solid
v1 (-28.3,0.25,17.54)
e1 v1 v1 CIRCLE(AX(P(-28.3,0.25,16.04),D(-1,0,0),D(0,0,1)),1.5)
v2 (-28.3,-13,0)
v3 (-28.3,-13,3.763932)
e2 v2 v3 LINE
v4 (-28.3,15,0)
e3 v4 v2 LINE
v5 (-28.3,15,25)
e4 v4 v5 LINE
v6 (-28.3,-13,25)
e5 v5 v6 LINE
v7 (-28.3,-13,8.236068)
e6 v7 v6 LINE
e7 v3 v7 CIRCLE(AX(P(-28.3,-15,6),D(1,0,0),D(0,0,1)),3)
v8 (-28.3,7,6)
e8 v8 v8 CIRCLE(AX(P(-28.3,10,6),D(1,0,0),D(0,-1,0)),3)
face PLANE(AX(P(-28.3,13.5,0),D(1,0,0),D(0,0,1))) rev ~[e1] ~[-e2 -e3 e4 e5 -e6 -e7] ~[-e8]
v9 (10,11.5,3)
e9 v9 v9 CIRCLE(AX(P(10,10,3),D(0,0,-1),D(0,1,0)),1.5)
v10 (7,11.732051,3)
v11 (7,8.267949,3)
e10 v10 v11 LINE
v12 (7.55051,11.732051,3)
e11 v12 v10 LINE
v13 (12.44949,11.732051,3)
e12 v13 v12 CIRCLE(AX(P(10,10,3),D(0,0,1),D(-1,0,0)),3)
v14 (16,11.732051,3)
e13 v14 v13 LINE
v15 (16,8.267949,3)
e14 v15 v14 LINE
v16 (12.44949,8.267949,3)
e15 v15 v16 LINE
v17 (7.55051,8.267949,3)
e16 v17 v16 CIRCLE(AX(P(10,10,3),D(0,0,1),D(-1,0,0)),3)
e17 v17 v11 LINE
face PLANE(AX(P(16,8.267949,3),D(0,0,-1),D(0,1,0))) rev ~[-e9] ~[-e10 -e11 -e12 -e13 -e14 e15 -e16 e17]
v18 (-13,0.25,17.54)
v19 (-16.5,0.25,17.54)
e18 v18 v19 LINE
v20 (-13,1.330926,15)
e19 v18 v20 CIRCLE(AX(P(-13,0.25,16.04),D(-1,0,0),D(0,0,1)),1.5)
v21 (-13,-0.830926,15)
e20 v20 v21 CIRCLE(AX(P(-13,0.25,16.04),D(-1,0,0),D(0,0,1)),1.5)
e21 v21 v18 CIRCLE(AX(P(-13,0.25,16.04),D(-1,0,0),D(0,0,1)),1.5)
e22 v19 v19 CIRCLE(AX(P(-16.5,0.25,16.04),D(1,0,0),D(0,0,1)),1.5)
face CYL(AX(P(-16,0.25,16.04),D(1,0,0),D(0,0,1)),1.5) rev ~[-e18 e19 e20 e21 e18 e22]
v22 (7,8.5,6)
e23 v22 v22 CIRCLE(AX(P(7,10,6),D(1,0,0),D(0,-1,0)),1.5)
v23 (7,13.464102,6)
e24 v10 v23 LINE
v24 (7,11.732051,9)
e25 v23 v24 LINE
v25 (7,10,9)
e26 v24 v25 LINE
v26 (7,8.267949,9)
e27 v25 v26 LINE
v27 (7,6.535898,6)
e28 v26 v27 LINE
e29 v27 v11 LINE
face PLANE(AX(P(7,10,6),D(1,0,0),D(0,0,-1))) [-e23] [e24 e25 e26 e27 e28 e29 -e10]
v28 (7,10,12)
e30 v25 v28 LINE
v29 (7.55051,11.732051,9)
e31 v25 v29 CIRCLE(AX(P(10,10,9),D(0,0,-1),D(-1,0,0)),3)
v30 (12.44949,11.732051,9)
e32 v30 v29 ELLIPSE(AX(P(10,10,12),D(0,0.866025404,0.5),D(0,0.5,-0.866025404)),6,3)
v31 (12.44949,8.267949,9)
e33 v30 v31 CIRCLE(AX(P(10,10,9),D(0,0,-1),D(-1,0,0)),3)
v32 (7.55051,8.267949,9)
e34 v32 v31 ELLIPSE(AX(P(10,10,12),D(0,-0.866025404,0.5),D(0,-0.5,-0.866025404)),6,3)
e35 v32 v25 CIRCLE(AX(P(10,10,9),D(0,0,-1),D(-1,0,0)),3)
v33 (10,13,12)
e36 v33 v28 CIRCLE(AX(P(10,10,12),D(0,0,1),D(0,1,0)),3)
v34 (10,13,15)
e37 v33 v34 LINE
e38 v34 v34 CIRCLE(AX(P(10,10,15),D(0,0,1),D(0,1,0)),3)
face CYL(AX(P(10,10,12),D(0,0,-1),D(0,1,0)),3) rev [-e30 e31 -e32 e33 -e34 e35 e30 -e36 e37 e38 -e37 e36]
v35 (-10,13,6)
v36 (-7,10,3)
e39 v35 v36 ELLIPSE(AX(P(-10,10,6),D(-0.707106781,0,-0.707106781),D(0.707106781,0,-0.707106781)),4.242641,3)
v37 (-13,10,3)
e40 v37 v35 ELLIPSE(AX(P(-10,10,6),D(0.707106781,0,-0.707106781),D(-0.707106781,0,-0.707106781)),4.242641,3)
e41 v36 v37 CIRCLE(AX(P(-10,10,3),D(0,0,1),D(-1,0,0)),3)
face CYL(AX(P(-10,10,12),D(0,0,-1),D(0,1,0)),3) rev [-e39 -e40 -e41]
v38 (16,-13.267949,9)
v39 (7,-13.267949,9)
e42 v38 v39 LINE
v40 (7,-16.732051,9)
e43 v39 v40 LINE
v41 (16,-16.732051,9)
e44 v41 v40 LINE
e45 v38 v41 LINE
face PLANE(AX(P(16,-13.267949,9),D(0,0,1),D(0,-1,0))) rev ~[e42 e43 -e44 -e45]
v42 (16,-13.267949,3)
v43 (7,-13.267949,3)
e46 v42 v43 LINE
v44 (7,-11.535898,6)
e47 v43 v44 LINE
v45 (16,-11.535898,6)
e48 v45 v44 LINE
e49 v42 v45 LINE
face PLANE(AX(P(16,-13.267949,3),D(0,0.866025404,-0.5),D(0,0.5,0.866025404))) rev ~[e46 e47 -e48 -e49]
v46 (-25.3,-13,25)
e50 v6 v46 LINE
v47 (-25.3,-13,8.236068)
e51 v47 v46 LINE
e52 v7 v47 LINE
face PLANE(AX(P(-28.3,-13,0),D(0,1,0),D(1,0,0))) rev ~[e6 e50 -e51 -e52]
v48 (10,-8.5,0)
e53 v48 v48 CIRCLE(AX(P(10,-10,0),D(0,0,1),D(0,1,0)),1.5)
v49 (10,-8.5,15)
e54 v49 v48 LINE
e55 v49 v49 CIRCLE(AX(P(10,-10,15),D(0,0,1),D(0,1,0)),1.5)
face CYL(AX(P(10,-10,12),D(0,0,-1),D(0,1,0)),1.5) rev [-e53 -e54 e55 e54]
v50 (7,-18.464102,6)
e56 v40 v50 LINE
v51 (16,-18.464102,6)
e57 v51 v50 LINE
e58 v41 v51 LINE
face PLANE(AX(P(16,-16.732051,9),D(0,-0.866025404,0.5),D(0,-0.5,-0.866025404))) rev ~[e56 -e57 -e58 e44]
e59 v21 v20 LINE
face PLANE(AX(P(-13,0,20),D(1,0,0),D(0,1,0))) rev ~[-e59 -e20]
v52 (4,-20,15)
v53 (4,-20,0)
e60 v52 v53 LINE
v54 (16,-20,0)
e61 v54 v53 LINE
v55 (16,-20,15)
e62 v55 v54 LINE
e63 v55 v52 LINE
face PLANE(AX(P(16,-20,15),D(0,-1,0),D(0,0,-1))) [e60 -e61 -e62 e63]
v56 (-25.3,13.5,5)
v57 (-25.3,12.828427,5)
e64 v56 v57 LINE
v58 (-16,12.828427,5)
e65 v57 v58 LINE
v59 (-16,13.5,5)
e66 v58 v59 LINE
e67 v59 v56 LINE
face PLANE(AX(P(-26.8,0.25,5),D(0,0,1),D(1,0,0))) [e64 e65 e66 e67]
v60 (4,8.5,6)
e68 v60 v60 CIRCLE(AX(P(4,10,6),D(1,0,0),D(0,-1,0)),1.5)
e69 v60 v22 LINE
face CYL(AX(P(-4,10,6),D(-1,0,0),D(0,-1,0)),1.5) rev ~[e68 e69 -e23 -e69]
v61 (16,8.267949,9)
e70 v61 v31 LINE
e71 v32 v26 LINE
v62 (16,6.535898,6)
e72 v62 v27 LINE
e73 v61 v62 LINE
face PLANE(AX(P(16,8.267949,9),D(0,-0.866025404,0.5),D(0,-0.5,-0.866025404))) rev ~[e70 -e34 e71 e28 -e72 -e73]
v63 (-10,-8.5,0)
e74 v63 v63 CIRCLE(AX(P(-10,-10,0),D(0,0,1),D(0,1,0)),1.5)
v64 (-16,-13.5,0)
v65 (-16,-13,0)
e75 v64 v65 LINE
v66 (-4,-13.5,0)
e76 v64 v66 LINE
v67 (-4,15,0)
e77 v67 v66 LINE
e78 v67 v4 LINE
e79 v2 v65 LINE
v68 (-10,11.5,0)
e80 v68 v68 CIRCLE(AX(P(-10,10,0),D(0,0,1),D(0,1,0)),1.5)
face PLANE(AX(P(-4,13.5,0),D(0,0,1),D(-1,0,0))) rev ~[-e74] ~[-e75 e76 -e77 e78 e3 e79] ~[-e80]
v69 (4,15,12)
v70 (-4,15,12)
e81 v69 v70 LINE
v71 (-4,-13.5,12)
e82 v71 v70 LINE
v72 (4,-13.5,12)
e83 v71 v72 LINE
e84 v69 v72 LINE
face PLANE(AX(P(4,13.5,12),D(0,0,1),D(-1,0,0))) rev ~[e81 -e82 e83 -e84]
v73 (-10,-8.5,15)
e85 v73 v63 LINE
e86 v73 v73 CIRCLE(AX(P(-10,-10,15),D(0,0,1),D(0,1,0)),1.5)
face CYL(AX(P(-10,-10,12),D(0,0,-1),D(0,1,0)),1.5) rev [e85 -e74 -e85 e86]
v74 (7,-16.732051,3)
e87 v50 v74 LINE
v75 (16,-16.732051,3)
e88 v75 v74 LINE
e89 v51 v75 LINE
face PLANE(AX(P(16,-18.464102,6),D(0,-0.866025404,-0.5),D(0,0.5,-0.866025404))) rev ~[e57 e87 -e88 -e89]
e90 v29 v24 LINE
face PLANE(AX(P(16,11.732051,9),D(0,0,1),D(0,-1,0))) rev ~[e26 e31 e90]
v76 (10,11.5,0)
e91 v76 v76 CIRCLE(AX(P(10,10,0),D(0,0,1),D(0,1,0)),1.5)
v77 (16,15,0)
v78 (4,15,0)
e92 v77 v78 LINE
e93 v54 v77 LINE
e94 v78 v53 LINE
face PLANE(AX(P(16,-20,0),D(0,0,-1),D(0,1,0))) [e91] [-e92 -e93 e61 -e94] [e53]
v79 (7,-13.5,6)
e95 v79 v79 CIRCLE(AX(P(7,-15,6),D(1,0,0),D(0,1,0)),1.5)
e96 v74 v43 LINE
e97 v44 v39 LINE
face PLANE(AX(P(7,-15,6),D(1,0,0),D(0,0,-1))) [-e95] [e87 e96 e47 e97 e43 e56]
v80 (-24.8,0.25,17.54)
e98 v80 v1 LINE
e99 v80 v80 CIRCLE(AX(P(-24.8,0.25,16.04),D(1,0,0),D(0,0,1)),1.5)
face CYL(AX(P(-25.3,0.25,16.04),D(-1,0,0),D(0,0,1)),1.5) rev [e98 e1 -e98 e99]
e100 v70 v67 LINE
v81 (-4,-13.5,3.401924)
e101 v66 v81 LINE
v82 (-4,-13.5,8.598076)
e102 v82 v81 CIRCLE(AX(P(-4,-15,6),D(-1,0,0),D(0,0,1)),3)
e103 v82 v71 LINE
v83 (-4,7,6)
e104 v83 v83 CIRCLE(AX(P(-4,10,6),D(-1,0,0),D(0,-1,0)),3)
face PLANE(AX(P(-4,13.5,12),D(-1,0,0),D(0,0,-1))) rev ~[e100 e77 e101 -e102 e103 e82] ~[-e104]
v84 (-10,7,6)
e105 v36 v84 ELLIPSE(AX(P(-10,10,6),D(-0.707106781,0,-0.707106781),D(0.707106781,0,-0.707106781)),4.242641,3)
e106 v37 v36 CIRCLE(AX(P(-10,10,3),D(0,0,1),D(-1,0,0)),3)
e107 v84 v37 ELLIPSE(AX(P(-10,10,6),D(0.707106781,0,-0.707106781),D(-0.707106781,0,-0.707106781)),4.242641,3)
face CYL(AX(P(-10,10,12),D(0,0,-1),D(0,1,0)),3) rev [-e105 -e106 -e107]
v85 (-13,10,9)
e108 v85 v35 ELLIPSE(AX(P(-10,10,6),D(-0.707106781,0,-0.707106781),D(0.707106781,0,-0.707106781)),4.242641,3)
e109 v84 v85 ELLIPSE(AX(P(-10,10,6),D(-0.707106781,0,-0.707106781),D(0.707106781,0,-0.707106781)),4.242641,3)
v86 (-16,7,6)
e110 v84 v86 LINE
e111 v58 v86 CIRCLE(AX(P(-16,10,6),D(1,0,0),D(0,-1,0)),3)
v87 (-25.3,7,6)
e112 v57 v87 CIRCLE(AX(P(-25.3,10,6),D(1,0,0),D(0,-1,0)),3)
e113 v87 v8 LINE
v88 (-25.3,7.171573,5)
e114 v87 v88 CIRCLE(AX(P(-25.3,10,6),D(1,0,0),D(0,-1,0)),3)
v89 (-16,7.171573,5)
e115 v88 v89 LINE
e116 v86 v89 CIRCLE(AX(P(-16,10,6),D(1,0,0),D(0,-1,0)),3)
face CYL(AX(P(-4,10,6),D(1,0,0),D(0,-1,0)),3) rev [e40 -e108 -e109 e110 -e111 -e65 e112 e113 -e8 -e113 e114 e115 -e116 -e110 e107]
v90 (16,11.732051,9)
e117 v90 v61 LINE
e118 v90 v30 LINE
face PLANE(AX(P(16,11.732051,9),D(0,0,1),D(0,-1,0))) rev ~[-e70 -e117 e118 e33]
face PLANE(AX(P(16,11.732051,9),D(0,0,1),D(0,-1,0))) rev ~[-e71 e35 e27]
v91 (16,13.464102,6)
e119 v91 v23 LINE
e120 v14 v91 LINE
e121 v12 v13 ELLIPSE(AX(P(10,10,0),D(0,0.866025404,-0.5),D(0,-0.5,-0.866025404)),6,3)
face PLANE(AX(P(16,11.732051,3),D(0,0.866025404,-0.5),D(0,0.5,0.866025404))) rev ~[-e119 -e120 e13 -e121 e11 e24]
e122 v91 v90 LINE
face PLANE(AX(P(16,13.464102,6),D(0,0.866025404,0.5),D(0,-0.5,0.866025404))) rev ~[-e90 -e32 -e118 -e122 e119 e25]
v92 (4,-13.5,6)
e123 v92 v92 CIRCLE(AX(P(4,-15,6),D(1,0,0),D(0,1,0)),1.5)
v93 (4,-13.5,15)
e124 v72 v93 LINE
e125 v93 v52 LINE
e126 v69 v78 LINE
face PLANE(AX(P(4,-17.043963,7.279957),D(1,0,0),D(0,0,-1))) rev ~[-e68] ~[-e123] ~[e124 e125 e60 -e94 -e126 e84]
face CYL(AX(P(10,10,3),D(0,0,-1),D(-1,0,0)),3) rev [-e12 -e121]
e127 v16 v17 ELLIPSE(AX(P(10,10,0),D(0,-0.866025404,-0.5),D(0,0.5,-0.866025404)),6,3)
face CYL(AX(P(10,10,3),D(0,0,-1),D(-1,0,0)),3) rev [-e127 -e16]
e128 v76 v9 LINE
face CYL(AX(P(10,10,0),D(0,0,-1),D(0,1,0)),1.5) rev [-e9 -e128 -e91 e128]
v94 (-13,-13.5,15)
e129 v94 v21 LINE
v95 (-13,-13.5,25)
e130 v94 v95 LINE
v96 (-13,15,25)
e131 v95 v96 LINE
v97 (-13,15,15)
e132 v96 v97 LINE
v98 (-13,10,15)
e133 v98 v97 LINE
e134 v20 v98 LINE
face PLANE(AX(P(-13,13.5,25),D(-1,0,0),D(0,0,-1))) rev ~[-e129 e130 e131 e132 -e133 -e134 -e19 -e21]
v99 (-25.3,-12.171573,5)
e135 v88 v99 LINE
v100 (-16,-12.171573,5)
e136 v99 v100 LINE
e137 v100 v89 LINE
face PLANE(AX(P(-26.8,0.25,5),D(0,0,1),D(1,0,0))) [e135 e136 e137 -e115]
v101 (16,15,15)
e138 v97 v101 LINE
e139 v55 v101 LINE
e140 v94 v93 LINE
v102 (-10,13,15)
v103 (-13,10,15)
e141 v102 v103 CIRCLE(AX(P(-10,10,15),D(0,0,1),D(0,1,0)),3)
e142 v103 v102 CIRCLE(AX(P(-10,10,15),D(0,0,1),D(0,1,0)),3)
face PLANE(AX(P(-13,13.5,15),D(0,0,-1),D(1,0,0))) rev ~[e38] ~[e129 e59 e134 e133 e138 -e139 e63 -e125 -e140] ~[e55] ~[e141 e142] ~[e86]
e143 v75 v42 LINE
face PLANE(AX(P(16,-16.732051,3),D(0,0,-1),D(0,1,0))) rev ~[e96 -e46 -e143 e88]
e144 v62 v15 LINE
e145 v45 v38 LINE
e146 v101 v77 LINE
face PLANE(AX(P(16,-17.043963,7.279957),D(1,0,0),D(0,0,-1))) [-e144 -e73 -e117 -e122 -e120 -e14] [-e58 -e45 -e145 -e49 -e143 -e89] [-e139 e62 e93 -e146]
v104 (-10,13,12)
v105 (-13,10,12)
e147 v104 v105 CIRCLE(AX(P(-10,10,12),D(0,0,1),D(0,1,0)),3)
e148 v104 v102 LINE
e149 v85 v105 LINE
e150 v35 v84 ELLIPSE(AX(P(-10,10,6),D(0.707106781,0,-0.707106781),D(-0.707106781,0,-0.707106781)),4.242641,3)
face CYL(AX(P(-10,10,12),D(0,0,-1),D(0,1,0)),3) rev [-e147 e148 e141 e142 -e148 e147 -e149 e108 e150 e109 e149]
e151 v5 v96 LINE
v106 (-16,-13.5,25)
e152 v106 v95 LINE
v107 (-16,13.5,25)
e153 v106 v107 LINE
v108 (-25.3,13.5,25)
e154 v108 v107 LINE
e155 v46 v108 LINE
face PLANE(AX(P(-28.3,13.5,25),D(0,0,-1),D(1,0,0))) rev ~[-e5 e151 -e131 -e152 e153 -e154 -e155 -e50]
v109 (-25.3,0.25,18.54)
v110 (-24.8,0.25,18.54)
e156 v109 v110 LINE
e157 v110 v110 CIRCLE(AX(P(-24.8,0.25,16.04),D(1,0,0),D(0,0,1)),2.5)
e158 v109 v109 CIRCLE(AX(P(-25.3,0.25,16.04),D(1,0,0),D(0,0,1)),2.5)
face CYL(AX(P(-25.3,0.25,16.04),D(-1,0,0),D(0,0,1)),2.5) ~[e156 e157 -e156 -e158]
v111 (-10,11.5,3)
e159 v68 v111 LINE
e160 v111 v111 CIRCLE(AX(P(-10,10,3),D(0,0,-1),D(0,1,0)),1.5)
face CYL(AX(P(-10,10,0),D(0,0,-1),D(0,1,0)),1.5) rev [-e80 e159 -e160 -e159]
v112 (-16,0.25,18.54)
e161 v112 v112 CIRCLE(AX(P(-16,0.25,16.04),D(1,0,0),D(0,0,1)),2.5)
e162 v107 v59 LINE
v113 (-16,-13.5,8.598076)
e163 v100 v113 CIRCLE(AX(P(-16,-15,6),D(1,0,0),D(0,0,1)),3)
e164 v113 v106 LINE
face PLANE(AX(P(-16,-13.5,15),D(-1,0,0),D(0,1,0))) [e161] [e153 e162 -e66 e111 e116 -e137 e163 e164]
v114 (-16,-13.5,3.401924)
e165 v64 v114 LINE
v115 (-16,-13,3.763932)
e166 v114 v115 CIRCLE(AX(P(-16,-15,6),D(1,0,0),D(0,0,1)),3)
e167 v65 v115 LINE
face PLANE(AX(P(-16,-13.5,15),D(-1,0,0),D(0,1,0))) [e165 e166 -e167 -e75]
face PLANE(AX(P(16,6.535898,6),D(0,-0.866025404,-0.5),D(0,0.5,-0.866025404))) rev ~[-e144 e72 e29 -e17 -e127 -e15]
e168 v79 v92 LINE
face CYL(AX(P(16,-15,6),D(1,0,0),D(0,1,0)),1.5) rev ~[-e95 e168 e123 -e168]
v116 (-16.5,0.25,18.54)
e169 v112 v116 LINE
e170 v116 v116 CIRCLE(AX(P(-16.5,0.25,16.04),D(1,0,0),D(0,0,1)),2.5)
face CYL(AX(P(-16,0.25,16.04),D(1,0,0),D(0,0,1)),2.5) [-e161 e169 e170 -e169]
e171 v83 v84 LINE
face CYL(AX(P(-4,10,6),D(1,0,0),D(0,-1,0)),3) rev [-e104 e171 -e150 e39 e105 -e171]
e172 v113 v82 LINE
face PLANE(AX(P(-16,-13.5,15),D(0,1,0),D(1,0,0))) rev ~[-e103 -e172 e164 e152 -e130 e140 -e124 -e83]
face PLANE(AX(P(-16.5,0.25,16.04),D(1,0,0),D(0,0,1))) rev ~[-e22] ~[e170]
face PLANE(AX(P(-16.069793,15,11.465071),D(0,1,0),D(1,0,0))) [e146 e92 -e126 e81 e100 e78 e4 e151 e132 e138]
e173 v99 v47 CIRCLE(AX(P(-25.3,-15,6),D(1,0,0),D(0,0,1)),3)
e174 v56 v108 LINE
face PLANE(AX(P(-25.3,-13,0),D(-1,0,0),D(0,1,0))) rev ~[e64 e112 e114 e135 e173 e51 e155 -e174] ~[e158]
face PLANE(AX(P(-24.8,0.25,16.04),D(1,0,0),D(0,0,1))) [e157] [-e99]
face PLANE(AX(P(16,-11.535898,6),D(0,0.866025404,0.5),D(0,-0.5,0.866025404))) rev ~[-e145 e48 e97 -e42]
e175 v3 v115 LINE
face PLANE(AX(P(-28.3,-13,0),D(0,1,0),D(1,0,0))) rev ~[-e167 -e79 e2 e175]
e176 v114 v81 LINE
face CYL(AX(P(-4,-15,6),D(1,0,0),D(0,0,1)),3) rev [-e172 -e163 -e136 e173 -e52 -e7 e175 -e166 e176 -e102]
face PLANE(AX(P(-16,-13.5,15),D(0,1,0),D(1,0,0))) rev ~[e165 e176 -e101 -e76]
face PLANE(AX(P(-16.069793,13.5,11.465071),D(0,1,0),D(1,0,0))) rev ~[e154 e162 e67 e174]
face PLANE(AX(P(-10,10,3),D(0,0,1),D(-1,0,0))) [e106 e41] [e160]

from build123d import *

# Parameters (mm, degrees)
SKETCH1_W           = 12
SKETCH1_H           = 27
SKETCH1_R           = 1.5
SKETCH1_R_2         = 3
BOSS_EXTRUDE1_DEPTH = 12
BOSS_EXTRUDE2_START = 12
SKETCH1_3_W         = 32
SKETCH1_3_H         = 27
SKETCH1_3_R         = 1.5
SKETCH1_3_R_2       = 3
BOSS_EXTRUDE2_DEPTH = 3
SKETCH2_3_R         = 1.5
CUT_EXTRUDE2_DEPTH  = 29.41214529
SKETCH3_W           = 15
SKETCH3_H           = 1.5
SKETCH3_R           = 1.5
BOSS_EXTRUDE3_DEPTH = 12
SKETCH3_4_R         = 1.5
CUT_EXTRUDE3_DEPTH  = 9
SKETCH3_5_R         = 1.5
CUT_EXTRUDE4_DEPTH  = 41.607881008
CUT_EXTRUDE9_START  = 3
SKETCH1_4_R         = 3
SKETCH1_4_R_2       = 1.5
CUT_EXTRUDE9_DEPTH  = 9
SKETCH4_W           = 3
SKETCH4_H           = 26.5
SKETCH4_W_2         = 5
SKETCH4_H_2         = 26
BOSS_EXTRUDE4_DEPTH = 5
SKETCH4_3_W         = 3
SKETCH4_3_H         = 26.5
BOSS_EXTRUDE5_DEPTH = 25
SKETCH5_W           = 3
SKETCH5_H           = 27
BOSS_EXTRUDE6_DEPTH = 10
CUT_EXTRUDE10_REACH = 56.658
SKETCH6_R           = 1.5
SKETCH7_R           = 2.5
SKETCH7_R_2         = 1.5
BOSS_EXTRUDE7_DEPTH = 0.5
BOSS_EXTRUDE8_START = 9.3
SKETCH7_2_R         = 2.5
SKETCH7_2_R_2       = 1.5
BOSS_EXTRUDE8_DEPTH = 0.5
SKETCH2_R           = 3
SKETCH2_R_2         = 1.5
CUT_EXTRUDE1_DEPTH  = 41.193158622
SKETCH8_W           = 9.3
SKETCH8_H           = 20
BOSS_EXTRUDE9_DEPTH = 1.5


with BuildPart() as part:
    # Sketch1 → Boss-Extrude1 (new body)
    with BuildSketch(Plane.XY):
        with Locations((-10, 0)):
            Rectangle(SKETCH1_W, SKETCH1_H)
        with Locations(Location((-10, 10, 0), (0, 0, 90))):
            Circle(SKETCH1_R, mode=Mode.SUBTRACT)
        with Locations(Location((-10, -10, 0), (0, 0, 90))):
            Circle(SKETCH1_R, mode=Mode.SUBTRACT)
        with Locations((10, 0)):
            Rectangle(SKETCH1_W, SKETCH1_H)
        with Locations((10, 10)):
            Circle(SKETCH1_R_2, mode=Mode.SUBTRACT)
        with Locations(Location((10, -10, 0), (0, 0, 90))):
            Circle(SKETCH1_R, mode=Mode.SUBTRACT)
        with Locations((10, 10)):
            Circle(SKETCH1_R_2)
        with Locations(Location((10, 10, 0), (0, 0, 90))):
            Circle(SKETCH1_R, mode=Mode.SUBTRACT)
        with Locations((-10, 10)):
            Circle(SKETCH1_R_2)
        with Locations(Location((-10, 10, 0), (0, 0, 90))):
            Circle(SKETCH1_R, mode=Mode.SUBTRACT)
    extrude(amount=BOSS_EXTRUDE1_DEPTH)

    # Sketch1_3 → Boss-Extrude2 (add)
    with BuildSketch(Plane.XY.offset(BOSS_EXTRUDE2_START)):
        Rectangle(SKETCH1_3_W, SKETCH1_3_H)
        with Locations(Location((-10, -10, 0), (0, 0, 90))):
            Circle(SKETCH1_3_R, mode=Mode.SUBTRACT)
        with Locations(Location((-10, 10, 0), (0, 0, 90))):
            Circle(SKETCH1_3_R_2, mode=Mode.SUBTRACT)
        with Locations(Location((10, 10, 0), (0, 0, 90))):
            Circle(SKETCH1_3_R_2, mode=Mode.SUBTRACT)
        with Locations(Location((10, -10, 0), (0, 0, 90))):
            Circle(SKETCH1_3_R, mode=Mode.SUBTRACT)
    extrude(amount=BOSS_EXTRUDE2_DEPTH)

    # Sketch2_3 → Cut-Extrude2 (cut, through all)
    with BuildSketch(Plane.ZY.offset(4)):
        with Locations((6, -15)):
            Circle(SKETCH2_3_R)
        with Locations(Location((6, 10, 0), (0, 0, 270))):
            Circle(SKETCH2_3_R)
    extrude(amount=-CUT_EXTRUDE2_DEPTH, mode=Mode.SUBTRACT)

    # Sketch3 → Boss-Extrude3 (add)
    with BuildSketch(Plane(origin=(16, 0, 0), x_dir=(0, 0, -1), z_dir=(1, 0, 0))):
        Polygon((-9, -13.5), (-15, -13.5), (-15, -20), (0, -20), (0, -13.5), (-3, -13.5), (-3, -16.732050808), (-6, -18.464101615), (-9, -16.732050808), align=None)
        with Locations((-7.5, 14.25)):
            Rectangle(SKETCH3_W, SKETCH3_H)
        Polygon((-6, -13.5), (-9, -13.5), (-9, -16.732050808), (-6, -18.464101615), (-3, -16.732050808), (-3, -13.5), align=None)
        with BuildLine():
            ThreePointArc((-4.5, -15), (-7.060660172, -16.060660172), (-6, -13.5))
            ThreePointArc((-6, -13.5), (-4.939339828, -13.939339828), (-4.5, -15))
        make_face(mode=Mode.SUBTRACT)
        with Locations((-6, -15)):
            Circle(SKETCH3_R)
    extrude(amount=-BOSS_EXTRUDE3_DEPTH)

    # Sketch3_4 → Cut-Extrude3 (cut)
    with BuildSketch(Plane(origin=(16, 0, 0), x_dir=(0, 0, -1), z_dir=(1, 0, 0))):
        Polygon((-6, 13.464101615), (-9, 11.732050808), (-9, 8.267949192), (-6, 6.535898385), (-3, 8.267949192), (-3, 11.732050808), align=None)
        Polygon((-6, -11.535898385), (-9, -13.267949192), (-9, -16.732050808), (-6, -18.464101615), (-3, -16.732050808), (-3, -13.267949192), align=None)
        with Locations(Location((-6, -15, 0), (0, 0, 90))):
            Circle(SKETCH3_4_R, mode=Mode.SUBTRACT)
    extrude(amount=-CUT_EXTRUDE3_DEPTH, mode=Mode.SUBTRACT)

    # Sketch3_5 → Cut-Extrude4 (cut, through all)
    with BuildSketch(Plane(origin=(16, 0, 0), x_dir=(0, 0, -1), z_dir=(1, 0, 0))):
        with Locations(Location((-6, -15, 0), (0, 0, 90))):
            Circle(SKETCH3_5_R)
        with Locations(Location((-6, 10, 0), (0, 0, 90))):
            Circle(SKETCH3_5_R)
    extrude(amount=-CUT_EXTRUDE4_DEPTH, mode=Mode.SUBTRACT)

    # Sketch1_4 → Cut-Extrude9 (cut)
    with BuildSketch(Plane.XY.offset(CUT_EXTRUDE9_START)):
        with Locations(Location((-10, 10, 0), (0, 0, 180))):
            Circle(SKETCH1_4_R)
        with Locations(Location((-10, 10, 0), (0, 0, 180))):
            Circle(SKETCH1_4_R_2, mode=Mode.SUBTRACT)
        with Locations(Location((10, 10, 0), (0, 0, 180))):
            Circle(SKETCH1_4_R)
        with Locations(Location((10, 10, 0), (0, 0, 180))):
            Circle(SKETCH1_4_R_2, mode=Mode.SUBTRACT)
    extrude(amount=CUT_EXTRUDE9_DEPTH, mode=Mode.SUBTRACT)

    # Sketch4 → Boss-Extrude4 (add)
    with BuildSketch(Plane.XY):
        with Locations((-26.8, 0.25)):
            Rectangle(SKETCH4_W, SKETCH4_H)
        Polygon((-25.3, -13), (-21, -13), (-21, 13), (-16, 13), (-16, 13.5), (-25.3, 13.5), align=None)
        with Locations((-18.5, 0)):
            Rectangle(SKETCH4_W_2, SKETCH4_H_2)
    extrude(amount=BOSS_EXTRUDE4_DEPTH)

    # Sketch4_3 → Boss-Extrude5 (add)
    with BuildSketch(Plane.XY):
        with Locations((-26.8, 0.25)):
            Rectangle(SKETCH4_3_W, SKETCH4_3_H)
    extrude(amount=BOSS_EXTRUDE5_DEPTH)

    # Sketch5 → Boss-Extrude6 (add)
    with BuildSketch(Plane.XY.offset(15)):
        with Locations((-14.5, 0)):
            Rectangle(SKETCH5_W, SKETCH5_H)
    extrude(amount=BOSS_EXTRUDE6_DEPTH)

    # Cut-Extrude10: up to this face of the body (flat: up to its plane)
    cut_extrude10_end = Plane(part.part.faces().sort_by_distance((-13, 0, 20))[0])
    # Sketch6 → Cut-Extrude10 (cut, up to the picked face)
    with BuildSketch(Plane.ZY.offset(28.3), mode=Mode.PRIVATE) as cut_extrude10_sk1:
        with Locations((16.04, 0.25)):
            Circle(SKETCH6_R)
    cut_extrude10_tool1 = split(extrude(cut_extrude10_sk1.sketch, amount=-CUT_EXTRUDE10_REACH, mode=Mode.PRIVATE), bisect_by=cut_extrude10_end, keep=Keep.BOTH, mode=Mode.PRIVATE)
    add(cut_extrude10_tool1.solids().sort_by(Axis((-28.3, 0.25, 16.04), (1, 0, 0)))[0], mode=Mode.SUBTRACT)

    # Sketch7 → Boss-Extrude7 (add)
    with BuildSketch(Plane(origin=(-25.3, 0, 0), x_dir=(0, 0, -1), z_dir=(1, 0, 0))):
        with Locations(Location((-16.04, 0.25, 0), (0, 0, 180))):
            Circle(SKETCH7_R)
        with Locations(Location((-16.04, 0.25, 0), (0, 0, 180))):
            Circle(SKETCH7_R_2, mode=Mode.SUBTRACT)
    extrude(amount=BOSS_EXTRUDE7_DEPTH)

    # Sketch7_2 → Boss-Extrude8 (add)
    with BuildSketch(Plane(origin=(-25.3, 0, 0), x_dir=(0, 0, -1), z_dir=(1, 0, 0)).offset(BOSS_EXTRUDE8_START)):
        with Locations(Location((-16.04, 0.25, 0), (0, 0, 180))):
            Circle(SKETCH7_2_R)
        with Locations(Location((-16.04, 0.25, 0), (0, 0, 180))):
            Circle(SKETCH7_2_R_2, mode=Mode.SUBTRACT)
    extrude(amount=-BOSS_EXTRUDE8_DEPTH)

    # Sketch2 → Cut-Extrude1 (cut, through all)
    with BuildSketch(Plane.ZY.offset(4)):
        with Locations((6, -15)):
            Circle(SKETCH2_R)
        with Locations(Location((6, -15, 0), (0, 0, 90))):
            Circle(SKETCH2_R_2, mode=Mode.SUBTRACT)
        with Locations(Location((6, 10, 0), (0, 0, 270))):
            Circle(SKETCH2_R)
        with Locations(Location((6, 10, 0), (0, 0, 90))):
            Circle(SKETCH2_R_2, mode=Mode.SUBTRACT)
        with Locations(Location((6, -15, 0), (0, 0, 90))):
            Circle(SKETCH2_R_2)
    extrude(amount=CUT_EXTRUDE1_DEPTH, mode=Mode.SUBTRACT)


with BuildPart() as cut_extrude1_kept_piece:
    # of the separate pieces the step leaves, the one the design keeps (cut_extrude1_pieces_kept)
    add(part.part.solids().sort_by_distance((-16, -13.5, 25))[0])

    # Sketch8 → Boss-Extrude9 (add)
    with BuildSketch(Plane(origin=(0, 13.5, 0), x_dir=(1, 0, 0), z_dir=(0, 1, 0))):
        Polygon((-28.3, -25), (-25.3, -25), (-25.3, -5), (-16, -5), (-16, -25), (-13, -25), (-13, -15), (4, -15), (4, -12), (-4, -12), (-4, 0), (-28.3, 0), align=None)
        with Locations((-20.65, -15)):
            Rectangle(SKETCH8_W, SKETCH8_H)
    extrude(amount=BOSS_EXTRUDE9_DEPTH)


solid = cut_extrude1_kept_piece.part
